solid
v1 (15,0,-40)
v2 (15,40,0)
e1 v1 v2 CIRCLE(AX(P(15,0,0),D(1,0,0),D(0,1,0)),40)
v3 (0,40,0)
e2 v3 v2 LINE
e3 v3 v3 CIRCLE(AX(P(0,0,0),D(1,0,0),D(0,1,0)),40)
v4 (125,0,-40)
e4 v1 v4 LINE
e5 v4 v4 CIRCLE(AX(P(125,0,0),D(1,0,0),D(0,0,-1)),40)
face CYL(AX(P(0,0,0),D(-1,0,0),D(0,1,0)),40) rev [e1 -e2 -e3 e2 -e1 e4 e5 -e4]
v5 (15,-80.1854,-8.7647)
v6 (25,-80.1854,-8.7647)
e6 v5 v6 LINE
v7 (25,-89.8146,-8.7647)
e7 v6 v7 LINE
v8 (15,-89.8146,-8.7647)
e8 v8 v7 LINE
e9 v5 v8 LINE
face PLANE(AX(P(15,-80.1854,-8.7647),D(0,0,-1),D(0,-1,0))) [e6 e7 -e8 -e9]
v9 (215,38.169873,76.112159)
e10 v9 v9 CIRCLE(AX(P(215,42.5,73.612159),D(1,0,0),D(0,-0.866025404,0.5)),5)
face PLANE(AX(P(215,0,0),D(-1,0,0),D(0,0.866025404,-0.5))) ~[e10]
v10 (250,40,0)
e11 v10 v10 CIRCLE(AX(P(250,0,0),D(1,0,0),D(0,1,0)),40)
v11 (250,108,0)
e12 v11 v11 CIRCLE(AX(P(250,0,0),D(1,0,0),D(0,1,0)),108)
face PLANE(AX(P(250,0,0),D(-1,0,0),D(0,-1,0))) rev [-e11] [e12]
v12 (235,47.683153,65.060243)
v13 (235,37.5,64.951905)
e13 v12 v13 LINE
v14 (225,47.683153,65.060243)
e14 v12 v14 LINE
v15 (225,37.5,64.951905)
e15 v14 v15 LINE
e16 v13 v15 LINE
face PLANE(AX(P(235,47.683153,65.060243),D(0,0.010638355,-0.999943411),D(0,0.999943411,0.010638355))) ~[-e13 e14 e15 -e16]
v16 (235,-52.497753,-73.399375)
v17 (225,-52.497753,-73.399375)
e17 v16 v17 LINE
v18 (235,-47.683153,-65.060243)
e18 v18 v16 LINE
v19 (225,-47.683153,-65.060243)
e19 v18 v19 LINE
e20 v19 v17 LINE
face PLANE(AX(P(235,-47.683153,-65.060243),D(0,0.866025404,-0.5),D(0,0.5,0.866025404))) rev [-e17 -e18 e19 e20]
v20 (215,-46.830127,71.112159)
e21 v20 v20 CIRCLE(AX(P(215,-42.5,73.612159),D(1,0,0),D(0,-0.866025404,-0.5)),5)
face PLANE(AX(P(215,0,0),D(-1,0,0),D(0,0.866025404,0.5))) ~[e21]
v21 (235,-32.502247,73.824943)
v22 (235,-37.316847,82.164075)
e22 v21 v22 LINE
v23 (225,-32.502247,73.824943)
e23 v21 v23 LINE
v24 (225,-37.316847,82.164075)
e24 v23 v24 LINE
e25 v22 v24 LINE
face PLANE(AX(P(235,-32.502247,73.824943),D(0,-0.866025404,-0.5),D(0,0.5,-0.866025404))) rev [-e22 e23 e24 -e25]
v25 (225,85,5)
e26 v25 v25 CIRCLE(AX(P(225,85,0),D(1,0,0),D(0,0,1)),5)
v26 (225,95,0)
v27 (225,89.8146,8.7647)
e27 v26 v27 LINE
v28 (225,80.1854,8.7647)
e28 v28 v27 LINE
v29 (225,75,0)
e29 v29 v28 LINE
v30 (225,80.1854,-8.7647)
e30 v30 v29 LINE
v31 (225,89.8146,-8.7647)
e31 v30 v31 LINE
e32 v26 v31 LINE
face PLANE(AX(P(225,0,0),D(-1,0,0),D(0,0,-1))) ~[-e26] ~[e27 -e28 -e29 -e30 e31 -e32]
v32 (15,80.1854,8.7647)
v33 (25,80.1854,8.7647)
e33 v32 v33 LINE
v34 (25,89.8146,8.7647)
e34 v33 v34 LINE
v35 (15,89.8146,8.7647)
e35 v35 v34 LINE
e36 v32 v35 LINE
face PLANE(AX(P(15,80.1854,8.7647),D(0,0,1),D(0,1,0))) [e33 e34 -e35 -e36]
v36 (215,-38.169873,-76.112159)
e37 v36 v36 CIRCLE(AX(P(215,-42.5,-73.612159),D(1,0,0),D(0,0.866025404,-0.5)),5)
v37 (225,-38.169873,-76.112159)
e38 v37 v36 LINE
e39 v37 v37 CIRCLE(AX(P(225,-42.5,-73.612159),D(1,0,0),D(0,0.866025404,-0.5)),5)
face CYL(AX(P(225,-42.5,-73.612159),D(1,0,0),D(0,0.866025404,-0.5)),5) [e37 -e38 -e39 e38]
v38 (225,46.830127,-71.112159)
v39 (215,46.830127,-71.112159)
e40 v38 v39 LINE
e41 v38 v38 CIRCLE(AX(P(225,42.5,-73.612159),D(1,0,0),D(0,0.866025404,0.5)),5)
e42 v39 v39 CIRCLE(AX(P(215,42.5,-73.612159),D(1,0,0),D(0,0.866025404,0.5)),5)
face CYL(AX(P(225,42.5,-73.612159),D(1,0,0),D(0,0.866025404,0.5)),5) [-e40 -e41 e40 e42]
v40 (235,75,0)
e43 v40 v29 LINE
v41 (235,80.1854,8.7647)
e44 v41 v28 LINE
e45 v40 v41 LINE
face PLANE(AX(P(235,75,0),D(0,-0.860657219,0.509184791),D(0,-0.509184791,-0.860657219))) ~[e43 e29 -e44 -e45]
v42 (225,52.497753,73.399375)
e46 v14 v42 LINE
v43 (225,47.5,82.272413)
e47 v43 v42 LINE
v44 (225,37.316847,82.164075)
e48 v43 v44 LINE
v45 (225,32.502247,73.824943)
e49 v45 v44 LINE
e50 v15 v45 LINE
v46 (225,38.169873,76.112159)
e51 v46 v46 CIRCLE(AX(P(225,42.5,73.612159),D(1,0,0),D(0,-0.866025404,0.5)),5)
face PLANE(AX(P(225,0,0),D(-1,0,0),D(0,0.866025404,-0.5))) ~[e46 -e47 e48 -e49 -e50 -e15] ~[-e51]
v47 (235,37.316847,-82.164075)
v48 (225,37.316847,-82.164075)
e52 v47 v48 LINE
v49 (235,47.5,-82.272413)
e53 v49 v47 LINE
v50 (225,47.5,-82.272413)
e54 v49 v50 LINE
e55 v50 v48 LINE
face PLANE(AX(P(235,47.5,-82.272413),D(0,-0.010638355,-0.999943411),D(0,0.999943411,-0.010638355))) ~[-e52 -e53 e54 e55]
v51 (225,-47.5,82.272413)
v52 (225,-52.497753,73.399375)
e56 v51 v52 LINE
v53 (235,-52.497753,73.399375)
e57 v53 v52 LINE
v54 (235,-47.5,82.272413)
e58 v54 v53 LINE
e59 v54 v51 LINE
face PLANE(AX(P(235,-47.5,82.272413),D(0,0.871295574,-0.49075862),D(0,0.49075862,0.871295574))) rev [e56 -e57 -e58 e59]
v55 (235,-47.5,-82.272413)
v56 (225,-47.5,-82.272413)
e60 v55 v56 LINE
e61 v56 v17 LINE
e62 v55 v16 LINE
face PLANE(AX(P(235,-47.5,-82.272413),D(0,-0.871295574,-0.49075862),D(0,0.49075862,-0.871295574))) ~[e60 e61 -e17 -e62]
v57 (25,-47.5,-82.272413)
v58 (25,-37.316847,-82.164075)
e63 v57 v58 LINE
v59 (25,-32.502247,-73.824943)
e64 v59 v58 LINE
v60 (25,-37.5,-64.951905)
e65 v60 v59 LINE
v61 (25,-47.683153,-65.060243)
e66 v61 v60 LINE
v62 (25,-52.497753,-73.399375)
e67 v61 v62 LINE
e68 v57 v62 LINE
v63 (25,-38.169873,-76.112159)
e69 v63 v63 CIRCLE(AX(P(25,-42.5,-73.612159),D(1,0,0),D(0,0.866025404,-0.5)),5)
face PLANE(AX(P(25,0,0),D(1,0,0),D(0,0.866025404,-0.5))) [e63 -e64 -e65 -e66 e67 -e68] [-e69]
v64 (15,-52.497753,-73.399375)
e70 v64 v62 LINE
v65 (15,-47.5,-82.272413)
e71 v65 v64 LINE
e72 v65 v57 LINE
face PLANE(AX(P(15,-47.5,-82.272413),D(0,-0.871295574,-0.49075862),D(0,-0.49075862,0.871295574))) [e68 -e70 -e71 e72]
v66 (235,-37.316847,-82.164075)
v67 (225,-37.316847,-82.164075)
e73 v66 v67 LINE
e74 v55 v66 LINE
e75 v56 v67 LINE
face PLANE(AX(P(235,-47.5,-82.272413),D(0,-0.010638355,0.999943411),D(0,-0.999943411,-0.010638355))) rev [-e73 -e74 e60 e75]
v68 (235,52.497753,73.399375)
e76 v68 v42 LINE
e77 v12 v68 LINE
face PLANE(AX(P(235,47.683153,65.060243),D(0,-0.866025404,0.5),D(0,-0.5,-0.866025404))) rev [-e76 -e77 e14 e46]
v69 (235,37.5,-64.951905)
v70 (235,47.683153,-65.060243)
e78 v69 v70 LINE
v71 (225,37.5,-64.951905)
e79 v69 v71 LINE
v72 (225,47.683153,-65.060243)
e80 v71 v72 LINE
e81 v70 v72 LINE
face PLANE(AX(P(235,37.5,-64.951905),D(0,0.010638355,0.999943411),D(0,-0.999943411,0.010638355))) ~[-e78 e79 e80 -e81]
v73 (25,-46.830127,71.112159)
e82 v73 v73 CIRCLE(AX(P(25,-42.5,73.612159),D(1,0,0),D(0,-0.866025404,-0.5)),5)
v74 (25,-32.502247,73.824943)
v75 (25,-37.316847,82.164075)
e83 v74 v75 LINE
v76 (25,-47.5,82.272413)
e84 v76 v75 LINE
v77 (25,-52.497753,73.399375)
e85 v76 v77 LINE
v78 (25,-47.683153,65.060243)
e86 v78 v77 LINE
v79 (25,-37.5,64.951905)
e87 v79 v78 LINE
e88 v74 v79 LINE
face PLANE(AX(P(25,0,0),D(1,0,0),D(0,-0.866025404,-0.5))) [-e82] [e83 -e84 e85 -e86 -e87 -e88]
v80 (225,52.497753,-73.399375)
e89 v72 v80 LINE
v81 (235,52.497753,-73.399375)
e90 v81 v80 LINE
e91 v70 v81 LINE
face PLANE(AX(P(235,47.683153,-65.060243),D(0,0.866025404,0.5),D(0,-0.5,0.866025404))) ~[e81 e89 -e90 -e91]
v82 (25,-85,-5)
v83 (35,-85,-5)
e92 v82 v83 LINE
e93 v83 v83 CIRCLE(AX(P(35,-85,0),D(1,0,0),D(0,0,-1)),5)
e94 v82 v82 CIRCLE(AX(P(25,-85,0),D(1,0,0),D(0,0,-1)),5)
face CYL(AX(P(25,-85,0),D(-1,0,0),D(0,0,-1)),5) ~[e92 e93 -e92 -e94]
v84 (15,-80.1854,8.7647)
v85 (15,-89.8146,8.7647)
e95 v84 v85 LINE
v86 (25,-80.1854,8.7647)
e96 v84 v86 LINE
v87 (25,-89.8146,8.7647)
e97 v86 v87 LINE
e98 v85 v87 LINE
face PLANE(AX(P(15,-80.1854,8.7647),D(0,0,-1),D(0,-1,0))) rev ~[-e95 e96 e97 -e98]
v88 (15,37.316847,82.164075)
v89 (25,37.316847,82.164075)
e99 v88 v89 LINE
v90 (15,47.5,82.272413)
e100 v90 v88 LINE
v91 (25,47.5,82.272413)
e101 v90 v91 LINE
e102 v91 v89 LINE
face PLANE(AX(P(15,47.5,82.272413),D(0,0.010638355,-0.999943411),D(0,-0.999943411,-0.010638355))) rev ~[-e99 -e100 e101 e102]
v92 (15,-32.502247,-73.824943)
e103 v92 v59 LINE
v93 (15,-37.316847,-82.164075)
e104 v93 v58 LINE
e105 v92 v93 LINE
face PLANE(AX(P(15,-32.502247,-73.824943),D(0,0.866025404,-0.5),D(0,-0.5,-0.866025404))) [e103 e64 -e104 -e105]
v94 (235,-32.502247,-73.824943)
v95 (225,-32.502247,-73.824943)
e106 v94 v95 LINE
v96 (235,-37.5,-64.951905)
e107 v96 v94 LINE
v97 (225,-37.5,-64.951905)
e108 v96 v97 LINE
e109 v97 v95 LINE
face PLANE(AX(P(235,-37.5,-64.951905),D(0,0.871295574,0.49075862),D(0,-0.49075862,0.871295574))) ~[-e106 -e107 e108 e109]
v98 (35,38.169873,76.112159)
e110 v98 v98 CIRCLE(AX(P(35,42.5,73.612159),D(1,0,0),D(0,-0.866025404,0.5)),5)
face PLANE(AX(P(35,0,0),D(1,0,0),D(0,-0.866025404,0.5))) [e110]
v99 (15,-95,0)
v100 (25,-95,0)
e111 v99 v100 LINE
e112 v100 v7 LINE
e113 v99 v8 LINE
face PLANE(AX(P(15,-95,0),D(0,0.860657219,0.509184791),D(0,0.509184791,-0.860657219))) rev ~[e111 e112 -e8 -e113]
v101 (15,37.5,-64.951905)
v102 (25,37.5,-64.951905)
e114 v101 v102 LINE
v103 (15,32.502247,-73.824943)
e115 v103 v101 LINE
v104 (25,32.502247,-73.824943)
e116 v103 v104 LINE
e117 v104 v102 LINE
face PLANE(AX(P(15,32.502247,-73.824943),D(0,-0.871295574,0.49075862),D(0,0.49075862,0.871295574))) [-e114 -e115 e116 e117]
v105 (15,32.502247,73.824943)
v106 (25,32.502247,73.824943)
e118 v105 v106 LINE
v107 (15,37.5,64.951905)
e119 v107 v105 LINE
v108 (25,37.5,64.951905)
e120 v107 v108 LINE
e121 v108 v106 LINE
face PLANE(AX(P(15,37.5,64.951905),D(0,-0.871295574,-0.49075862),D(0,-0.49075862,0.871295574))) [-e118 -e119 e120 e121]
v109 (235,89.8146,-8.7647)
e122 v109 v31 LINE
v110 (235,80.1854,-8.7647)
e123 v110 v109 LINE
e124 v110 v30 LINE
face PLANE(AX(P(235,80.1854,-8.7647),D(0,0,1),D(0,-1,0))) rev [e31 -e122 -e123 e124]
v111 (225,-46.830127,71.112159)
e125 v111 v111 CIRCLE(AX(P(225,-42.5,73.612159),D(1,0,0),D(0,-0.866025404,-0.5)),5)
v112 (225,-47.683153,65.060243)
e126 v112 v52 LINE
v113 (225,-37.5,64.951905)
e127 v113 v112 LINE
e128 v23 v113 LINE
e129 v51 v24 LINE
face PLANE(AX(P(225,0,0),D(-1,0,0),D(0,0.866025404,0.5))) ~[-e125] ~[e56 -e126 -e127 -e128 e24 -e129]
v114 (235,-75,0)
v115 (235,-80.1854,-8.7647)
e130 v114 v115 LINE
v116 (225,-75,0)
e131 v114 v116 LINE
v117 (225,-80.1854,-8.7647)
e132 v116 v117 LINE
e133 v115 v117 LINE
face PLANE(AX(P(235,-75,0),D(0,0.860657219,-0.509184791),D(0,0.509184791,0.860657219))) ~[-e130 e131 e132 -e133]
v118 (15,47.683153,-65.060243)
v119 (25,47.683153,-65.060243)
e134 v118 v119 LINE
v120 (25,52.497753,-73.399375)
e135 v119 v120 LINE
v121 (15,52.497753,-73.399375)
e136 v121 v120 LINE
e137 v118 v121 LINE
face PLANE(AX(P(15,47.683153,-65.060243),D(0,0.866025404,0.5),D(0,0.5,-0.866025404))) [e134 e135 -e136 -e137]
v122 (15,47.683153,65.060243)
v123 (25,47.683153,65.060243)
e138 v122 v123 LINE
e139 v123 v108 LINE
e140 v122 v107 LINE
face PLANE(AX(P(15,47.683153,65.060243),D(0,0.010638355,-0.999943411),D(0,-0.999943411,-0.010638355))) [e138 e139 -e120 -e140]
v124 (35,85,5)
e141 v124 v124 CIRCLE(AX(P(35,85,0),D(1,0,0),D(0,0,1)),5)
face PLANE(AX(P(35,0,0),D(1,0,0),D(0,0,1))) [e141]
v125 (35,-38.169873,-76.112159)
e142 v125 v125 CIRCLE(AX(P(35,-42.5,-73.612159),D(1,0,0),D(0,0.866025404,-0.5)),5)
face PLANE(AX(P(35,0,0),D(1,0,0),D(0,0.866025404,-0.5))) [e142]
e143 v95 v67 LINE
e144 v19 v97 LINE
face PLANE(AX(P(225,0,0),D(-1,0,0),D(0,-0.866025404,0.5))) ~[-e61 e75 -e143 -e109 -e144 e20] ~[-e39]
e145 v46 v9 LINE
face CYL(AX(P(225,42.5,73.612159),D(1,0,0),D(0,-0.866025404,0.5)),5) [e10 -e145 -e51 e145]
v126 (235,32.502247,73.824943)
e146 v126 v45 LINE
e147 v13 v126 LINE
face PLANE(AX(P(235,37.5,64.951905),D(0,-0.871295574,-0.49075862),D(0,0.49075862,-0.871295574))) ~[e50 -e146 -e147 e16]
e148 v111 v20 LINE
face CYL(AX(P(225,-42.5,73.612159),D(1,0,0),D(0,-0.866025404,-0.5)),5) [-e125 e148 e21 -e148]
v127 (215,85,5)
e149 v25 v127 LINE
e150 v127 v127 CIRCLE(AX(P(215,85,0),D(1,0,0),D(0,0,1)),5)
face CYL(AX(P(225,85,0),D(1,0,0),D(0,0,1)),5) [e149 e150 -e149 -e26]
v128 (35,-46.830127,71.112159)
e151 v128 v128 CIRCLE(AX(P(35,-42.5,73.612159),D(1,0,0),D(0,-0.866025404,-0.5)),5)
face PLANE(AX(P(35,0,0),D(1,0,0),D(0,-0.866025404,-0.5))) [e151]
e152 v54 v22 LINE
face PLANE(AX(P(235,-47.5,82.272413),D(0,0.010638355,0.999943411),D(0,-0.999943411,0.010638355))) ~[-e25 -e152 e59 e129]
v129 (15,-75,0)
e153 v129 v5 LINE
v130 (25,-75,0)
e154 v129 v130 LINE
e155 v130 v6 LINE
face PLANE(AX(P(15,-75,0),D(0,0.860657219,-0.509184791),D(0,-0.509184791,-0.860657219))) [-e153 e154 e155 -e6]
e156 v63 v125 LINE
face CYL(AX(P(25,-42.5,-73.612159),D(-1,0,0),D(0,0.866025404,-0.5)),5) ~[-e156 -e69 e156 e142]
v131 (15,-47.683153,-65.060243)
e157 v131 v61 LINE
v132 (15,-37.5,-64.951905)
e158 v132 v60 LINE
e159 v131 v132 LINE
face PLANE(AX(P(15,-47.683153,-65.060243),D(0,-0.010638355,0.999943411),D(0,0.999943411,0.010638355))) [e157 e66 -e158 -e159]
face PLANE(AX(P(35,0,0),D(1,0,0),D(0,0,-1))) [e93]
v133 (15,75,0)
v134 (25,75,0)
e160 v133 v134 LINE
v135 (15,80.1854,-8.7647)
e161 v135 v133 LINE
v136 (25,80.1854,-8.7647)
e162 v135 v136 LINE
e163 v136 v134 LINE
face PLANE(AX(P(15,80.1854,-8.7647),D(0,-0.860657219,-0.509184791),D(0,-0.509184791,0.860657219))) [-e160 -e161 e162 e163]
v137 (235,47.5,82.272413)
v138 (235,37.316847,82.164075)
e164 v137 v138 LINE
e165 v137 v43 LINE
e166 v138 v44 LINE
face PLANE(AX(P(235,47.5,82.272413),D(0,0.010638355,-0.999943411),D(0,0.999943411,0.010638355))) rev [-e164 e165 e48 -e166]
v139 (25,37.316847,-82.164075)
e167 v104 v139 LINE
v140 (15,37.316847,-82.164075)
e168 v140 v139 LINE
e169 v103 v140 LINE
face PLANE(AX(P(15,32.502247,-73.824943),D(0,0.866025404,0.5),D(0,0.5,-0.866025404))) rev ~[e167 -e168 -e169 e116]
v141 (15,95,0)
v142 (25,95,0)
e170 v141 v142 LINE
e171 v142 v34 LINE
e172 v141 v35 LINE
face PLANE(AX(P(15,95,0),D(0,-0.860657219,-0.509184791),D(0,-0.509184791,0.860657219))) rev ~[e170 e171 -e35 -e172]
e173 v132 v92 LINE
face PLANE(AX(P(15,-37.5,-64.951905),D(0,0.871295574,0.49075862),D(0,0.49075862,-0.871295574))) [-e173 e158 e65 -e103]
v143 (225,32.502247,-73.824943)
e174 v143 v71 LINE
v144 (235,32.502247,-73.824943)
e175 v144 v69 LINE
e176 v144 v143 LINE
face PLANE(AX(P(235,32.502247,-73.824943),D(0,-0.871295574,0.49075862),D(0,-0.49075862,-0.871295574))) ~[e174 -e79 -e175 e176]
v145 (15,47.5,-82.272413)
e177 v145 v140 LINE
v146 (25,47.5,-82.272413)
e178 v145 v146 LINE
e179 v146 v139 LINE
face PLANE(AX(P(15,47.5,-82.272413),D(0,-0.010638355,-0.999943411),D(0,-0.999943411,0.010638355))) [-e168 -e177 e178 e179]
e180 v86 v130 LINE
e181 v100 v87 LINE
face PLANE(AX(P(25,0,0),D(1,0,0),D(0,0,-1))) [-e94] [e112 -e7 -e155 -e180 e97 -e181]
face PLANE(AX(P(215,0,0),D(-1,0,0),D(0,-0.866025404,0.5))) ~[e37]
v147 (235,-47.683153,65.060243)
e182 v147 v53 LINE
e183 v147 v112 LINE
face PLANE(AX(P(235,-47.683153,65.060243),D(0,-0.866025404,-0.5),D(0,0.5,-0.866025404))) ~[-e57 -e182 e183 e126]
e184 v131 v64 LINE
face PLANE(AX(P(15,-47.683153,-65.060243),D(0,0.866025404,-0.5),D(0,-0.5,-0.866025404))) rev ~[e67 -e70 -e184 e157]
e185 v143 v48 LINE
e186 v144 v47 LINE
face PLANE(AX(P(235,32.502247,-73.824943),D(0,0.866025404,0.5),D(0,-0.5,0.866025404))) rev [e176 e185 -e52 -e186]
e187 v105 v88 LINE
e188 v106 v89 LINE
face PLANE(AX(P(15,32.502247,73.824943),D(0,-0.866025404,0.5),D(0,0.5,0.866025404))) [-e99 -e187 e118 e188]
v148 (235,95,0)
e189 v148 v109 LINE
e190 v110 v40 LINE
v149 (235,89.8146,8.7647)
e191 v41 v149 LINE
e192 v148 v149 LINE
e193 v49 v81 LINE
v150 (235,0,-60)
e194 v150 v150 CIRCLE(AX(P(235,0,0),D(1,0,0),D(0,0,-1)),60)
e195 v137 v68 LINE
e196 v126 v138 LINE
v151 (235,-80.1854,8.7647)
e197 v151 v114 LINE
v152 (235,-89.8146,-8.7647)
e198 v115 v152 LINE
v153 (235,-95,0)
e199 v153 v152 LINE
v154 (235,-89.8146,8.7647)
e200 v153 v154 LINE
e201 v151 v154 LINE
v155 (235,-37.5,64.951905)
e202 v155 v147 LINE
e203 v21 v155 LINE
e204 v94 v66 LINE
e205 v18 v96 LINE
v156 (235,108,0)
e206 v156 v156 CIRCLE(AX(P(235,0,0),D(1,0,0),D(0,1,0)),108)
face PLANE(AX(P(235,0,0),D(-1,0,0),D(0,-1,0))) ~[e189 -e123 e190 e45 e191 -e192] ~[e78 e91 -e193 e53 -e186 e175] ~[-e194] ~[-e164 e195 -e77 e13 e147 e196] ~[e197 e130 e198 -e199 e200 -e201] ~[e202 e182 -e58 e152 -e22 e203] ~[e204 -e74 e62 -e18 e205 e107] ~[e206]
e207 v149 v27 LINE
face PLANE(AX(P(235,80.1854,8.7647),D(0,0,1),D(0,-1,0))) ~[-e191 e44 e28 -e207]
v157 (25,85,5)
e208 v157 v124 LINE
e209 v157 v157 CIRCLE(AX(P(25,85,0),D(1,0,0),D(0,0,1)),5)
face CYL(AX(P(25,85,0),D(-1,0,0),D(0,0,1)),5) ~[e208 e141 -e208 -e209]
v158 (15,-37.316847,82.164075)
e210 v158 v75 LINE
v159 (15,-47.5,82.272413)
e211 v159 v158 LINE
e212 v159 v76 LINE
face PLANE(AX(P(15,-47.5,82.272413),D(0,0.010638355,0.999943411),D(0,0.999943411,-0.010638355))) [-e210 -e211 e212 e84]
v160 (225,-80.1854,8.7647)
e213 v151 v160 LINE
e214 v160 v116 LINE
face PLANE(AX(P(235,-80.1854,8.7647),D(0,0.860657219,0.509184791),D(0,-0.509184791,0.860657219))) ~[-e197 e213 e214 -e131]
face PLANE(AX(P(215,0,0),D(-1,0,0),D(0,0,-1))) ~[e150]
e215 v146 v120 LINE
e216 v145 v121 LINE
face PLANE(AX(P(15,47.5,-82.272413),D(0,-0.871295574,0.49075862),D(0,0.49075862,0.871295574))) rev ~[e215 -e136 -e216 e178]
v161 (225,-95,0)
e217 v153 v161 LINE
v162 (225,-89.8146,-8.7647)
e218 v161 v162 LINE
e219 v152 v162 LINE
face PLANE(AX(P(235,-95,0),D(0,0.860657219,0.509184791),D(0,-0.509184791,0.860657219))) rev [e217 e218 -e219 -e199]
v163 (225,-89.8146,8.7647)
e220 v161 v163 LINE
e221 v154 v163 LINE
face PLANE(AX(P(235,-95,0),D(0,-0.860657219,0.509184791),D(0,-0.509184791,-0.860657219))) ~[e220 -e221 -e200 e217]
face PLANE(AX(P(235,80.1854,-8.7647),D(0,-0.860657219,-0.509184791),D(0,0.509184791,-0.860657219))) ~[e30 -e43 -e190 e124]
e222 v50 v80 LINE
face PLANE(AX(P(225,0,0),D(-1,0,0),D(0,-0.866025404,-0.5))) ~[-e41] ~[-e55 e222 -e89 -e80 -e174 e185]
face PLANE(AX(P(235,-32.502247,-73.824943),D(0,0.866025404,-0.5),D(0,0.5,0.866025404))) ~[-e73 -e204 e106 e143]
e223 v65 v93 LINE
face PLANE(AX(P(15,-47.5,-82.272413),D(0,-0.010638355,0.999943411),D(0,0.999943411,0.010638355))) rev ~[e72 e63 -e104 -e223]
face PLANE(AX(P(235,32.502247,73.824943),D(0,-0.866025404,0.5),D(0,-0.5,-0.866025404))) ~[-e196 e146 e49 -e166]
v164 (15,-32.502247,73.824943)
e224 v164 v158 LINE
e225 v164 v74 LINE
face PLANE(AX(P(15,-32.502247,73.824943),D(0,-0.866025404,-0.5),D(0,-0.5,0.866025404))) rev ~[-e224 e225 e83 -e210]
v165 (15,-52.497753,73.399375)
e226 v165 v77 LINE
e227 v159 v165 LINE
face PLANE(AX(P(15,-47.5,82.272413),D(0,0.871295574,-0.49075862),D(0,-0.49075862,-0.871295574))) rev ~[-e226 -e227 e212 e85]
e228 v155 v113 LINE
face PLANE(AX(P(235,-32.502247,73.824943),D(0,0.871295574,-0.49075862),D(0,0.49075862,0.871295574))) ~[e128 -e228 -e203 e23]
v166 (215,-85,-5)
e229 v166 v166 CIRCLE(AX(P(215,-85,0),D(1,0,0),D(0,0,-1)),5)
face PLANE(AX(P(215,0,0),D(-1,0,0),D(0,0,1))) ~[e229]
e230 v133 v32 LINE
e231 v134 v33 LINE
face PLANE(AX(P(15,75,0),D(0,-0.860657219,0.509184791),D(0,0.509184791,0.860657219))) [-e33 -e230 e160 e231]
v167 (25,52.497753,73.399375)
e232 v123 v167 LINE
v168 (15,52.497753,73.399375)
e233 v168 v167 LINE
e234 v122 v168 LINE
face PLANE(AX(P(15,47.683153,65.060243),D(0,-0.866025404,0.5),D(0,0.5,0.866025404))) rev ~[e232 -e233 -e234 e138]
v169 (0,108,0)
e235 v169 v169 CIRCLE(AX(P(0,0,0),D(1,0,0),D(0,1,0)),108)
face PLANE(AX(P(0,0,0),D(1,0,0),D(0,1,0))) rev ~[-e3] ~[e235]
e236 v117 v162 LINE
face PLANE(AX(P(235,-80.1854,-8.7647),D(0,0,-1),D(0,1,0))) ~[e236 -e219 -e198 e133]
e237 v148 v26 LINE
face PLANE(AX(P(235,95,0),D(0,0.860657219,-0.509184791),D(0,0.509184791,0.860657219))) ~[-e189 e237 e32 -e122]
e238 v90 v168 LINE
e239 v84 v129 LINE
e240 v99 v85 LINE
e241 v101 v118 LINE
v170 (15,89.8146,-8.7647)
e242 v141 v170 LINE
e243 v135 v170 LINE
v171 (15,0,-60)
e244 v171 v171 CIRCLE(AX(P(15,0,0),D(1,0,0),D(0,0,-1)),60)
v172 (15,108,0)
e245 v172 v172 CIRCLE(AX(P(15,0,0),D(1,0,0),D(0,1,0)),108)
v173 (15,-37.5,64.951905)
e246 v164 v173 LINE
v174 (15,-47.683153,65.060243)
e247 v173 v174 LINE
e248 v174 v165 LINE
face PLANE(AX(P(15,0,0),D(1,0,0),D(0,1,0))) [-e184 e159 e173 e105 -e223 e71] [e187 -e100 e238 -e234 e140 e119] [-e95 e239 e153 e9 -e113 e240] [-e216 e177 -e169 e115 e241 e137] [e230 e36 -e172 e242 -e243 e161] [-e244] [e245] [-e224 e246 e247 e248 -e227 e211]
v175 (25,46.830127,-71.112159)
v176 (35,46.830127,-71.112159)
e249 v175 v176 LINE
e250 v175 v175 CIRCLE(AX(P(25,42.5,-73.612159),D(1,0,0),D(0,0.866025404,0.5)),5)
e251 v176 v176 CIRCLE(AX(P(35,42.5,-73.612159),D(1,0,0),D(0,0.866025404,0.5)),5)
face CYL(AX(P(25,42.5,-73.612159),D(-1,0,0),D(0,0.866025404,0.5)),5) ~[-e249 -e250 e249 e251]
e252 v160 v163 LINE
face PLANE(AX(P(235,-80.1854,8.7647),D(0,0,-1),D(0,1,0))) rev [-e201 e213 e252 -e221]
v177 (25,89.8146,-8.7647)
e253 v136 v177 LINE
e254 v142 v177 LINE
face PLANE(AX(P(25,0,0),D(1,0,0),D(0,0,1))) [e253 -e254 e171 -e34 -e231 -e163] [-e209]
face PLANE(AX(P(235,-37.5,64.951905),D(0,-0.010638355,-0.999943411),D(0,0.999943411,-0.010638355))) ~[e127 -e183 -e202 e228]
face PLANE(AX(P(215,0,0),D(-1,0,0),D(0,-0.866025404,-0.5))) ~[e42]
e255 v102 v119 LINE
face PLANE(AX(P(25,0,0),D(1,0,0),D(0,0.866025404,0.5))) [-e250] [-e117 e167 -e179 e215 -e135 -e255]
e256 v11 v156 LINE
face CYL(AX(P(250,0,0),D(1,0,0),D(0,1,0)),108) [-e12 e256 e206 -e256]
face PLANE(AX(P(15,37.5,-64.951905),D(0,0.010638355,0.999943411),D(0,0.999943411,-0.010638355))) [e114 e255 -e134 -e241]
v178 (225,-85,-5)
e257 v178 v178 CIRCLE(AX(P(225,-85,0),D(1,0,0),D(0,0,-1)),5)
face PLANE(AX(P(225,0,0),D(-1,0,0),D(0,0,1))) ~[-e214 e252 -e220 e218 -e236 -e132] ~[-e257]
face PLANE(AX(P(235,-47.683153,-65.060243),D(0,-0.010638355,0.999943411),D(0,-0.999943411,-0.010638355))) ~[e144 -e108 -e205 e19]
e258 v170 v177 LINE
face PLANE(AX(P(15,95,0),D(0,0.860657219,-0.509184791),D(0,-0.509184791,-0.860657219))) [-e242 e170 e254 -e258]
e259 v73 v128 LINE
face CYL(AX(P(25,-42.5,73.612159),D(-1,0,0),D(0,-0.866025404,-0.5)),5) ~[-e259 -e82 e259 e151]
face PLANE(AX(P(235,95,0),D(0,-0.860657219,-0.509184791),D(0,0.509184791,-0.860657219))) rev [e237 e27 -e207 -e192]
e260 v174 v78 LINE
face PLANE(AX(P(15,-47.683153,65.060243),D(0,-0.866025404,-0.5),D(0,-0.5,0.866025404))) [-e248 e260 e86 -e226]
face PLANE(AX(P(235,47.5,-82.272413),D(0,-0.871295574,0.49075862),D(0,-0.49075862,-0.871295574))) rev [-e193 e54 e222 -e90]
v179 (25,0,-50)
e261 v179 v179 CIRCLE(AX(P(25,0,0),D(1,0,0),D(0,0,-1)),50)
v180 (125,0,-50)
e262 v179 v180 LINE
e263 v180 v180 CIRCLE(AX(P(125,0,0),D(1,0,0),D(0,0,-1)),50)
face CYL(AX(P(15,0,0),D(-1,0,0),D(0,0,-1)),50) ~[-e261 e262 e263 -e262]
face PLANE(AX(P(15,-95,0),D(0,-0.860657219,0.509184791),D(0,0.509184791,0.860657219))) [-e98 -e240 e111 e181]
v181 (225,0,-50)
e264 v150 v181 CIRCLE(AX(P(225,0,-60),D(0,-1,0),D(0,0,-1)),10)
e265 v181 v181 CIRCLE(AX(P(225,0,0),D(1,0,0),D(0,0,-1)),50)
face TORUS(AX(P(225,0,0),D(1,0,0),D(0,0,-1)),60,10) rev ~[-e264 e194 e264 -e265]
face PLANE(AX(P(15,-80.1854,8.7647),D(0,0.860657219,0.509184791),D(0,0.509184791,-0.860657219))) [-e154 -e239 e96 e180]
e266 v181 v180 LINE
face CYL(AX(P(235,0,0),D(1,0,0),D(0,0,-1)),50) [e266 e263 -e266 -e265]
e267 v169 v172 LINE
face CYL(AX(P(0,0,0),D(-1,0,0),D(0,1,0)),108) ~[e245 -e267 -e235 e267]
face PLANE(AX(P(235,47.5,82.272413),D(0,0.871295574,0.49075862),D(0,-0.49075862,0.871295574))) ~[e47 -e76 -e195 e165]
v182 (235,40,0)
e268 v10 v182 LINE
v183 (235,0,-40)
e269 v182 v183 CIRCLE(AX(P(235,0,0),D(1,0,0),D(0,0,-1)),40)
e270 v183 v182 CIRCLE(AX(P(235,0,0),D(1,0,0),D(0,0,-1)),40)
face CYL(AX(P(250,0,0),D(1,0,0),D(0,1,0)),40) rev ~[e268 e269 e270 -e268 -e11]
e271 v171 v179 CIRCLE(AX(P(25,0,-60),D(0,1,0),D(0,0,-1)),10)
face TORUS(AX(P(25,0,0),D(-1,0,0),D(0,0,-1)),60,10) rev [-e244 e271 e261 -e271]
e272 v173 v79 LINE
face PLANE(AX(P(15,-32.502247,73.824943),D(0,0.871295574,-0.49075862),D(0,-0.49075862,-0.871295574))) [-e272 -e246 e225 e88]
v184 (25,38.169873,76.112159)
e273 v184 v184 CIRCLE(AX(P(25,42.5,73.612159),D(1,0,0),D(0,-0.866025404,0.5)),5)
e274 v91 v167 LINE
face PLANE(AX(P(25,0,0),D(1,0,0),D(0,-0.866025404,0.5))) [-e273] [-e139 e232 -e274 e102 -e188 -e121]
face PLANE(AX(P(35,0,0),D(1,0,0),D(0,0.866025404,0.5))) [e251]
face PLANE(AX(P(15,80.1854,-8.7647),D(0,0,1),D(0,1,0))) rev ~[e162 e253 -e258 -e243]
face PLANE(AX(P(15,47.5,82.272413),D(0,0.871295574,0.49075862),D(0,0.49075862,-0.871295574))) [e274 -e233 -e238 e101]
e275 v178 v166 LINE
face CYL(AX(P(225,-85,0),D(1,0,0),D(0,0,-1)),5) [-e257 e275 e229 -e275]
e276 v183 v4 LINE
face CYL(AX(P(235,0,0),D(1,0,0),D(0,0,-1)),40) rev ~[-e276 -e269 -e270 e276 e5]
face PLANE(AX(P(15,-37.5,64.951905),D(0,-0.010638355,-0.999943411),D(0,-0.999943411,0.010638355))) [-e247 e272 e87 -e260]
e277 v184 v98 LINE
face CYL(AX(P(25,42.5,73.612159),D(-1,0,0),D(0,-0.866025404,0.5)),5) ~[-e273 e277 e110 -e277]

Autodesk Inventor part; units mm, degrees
ref_plane "YZ Plane" through (0, 0, 0) normal (1, 0, 0) x (0, 1, 0)
ref_plane "XZ Plane" through (0, 0, 0) normal (0, 1, 0) x (-1, 0, 0)
ref_plane "XY Plane" through (0, 0, 0) normal (0, 0, 1) x (1, 0, 0)
sketch "Skizze1" plane through (0, 0, 0) normal (1, 0, 0) x (0, 1, 0)
  circle A0 centre (0, 0) radius 40
  circle A1 centre (0, 0) radius 108
  dimension "d0" = 216
  dimension "d1" = 80
extrude "Extrusion1" add sketch "Skizze1" along normal blind 15
sketch "Skizze2" plane through (15, 0, 0) normal (1, 0, 0) x (0, 0, -1)
  circle A0 centre (0, 0) radius 40
  circle A1 centre (0, 0) radius 50
  dimension "d4" = 100
extrude "Extrusion2" add sketch "Skizze2" along normal blind 110
fillet "Rundung1" radius 10 1 edges at (15, 0, 50)
sketch "Skizze3" plane through (15, 0, 0) normal (1, 0, 0) x (0, 0, -1)
  circle A0 centre (0, -85) radius 10 construction
  line L0 (0, -95) -> (-8.7647, -89.8146)
  line L1 (-8.7647, -80.1854) -> (0, -75)
  line L2 (0, -75) -> (8.7647, -80.1854)
  line L3 (8.7647, -80.1854) -> (8.7647, -89.8146)
  line L4 (0, -95) -> (8.7647, -89.8146)
  line L5 (-8.7647, -80.1854) -> (-8.7647, -89.8146)
  point P0 (0, 0)
  dimension "d8" = 20
  dimension "d9" = 85
extrude "Extrusion3" add sketch "Skizze3" along normal blind 10
sketch "Skizze4" plane through (25, 0, 0) normal (1, 0, 0) x (0, 0, -1)
  circle A0 centre (0, -85) radius 5
  point P0 (0, 0)
  dimension "d12" = 10
extrude "Extrusion4" add sketch "Skizze4" along normal blind 10
pattern_circular "Runde Anordnung1" count 6 over 360 about axis through (-10, 0, 0) along (1, 0, 0) of "Extrusion3", "Extrusion4"
mirror "Spiegeln1" about plane through (125, 0, 0) normal (1, 0, 0) of "Extrusion3", "Extrusion4", "Runde Anordnung1", "Extrusion2", "Extrusion1", "Rundung1"
properties part number "DN80-025m"
